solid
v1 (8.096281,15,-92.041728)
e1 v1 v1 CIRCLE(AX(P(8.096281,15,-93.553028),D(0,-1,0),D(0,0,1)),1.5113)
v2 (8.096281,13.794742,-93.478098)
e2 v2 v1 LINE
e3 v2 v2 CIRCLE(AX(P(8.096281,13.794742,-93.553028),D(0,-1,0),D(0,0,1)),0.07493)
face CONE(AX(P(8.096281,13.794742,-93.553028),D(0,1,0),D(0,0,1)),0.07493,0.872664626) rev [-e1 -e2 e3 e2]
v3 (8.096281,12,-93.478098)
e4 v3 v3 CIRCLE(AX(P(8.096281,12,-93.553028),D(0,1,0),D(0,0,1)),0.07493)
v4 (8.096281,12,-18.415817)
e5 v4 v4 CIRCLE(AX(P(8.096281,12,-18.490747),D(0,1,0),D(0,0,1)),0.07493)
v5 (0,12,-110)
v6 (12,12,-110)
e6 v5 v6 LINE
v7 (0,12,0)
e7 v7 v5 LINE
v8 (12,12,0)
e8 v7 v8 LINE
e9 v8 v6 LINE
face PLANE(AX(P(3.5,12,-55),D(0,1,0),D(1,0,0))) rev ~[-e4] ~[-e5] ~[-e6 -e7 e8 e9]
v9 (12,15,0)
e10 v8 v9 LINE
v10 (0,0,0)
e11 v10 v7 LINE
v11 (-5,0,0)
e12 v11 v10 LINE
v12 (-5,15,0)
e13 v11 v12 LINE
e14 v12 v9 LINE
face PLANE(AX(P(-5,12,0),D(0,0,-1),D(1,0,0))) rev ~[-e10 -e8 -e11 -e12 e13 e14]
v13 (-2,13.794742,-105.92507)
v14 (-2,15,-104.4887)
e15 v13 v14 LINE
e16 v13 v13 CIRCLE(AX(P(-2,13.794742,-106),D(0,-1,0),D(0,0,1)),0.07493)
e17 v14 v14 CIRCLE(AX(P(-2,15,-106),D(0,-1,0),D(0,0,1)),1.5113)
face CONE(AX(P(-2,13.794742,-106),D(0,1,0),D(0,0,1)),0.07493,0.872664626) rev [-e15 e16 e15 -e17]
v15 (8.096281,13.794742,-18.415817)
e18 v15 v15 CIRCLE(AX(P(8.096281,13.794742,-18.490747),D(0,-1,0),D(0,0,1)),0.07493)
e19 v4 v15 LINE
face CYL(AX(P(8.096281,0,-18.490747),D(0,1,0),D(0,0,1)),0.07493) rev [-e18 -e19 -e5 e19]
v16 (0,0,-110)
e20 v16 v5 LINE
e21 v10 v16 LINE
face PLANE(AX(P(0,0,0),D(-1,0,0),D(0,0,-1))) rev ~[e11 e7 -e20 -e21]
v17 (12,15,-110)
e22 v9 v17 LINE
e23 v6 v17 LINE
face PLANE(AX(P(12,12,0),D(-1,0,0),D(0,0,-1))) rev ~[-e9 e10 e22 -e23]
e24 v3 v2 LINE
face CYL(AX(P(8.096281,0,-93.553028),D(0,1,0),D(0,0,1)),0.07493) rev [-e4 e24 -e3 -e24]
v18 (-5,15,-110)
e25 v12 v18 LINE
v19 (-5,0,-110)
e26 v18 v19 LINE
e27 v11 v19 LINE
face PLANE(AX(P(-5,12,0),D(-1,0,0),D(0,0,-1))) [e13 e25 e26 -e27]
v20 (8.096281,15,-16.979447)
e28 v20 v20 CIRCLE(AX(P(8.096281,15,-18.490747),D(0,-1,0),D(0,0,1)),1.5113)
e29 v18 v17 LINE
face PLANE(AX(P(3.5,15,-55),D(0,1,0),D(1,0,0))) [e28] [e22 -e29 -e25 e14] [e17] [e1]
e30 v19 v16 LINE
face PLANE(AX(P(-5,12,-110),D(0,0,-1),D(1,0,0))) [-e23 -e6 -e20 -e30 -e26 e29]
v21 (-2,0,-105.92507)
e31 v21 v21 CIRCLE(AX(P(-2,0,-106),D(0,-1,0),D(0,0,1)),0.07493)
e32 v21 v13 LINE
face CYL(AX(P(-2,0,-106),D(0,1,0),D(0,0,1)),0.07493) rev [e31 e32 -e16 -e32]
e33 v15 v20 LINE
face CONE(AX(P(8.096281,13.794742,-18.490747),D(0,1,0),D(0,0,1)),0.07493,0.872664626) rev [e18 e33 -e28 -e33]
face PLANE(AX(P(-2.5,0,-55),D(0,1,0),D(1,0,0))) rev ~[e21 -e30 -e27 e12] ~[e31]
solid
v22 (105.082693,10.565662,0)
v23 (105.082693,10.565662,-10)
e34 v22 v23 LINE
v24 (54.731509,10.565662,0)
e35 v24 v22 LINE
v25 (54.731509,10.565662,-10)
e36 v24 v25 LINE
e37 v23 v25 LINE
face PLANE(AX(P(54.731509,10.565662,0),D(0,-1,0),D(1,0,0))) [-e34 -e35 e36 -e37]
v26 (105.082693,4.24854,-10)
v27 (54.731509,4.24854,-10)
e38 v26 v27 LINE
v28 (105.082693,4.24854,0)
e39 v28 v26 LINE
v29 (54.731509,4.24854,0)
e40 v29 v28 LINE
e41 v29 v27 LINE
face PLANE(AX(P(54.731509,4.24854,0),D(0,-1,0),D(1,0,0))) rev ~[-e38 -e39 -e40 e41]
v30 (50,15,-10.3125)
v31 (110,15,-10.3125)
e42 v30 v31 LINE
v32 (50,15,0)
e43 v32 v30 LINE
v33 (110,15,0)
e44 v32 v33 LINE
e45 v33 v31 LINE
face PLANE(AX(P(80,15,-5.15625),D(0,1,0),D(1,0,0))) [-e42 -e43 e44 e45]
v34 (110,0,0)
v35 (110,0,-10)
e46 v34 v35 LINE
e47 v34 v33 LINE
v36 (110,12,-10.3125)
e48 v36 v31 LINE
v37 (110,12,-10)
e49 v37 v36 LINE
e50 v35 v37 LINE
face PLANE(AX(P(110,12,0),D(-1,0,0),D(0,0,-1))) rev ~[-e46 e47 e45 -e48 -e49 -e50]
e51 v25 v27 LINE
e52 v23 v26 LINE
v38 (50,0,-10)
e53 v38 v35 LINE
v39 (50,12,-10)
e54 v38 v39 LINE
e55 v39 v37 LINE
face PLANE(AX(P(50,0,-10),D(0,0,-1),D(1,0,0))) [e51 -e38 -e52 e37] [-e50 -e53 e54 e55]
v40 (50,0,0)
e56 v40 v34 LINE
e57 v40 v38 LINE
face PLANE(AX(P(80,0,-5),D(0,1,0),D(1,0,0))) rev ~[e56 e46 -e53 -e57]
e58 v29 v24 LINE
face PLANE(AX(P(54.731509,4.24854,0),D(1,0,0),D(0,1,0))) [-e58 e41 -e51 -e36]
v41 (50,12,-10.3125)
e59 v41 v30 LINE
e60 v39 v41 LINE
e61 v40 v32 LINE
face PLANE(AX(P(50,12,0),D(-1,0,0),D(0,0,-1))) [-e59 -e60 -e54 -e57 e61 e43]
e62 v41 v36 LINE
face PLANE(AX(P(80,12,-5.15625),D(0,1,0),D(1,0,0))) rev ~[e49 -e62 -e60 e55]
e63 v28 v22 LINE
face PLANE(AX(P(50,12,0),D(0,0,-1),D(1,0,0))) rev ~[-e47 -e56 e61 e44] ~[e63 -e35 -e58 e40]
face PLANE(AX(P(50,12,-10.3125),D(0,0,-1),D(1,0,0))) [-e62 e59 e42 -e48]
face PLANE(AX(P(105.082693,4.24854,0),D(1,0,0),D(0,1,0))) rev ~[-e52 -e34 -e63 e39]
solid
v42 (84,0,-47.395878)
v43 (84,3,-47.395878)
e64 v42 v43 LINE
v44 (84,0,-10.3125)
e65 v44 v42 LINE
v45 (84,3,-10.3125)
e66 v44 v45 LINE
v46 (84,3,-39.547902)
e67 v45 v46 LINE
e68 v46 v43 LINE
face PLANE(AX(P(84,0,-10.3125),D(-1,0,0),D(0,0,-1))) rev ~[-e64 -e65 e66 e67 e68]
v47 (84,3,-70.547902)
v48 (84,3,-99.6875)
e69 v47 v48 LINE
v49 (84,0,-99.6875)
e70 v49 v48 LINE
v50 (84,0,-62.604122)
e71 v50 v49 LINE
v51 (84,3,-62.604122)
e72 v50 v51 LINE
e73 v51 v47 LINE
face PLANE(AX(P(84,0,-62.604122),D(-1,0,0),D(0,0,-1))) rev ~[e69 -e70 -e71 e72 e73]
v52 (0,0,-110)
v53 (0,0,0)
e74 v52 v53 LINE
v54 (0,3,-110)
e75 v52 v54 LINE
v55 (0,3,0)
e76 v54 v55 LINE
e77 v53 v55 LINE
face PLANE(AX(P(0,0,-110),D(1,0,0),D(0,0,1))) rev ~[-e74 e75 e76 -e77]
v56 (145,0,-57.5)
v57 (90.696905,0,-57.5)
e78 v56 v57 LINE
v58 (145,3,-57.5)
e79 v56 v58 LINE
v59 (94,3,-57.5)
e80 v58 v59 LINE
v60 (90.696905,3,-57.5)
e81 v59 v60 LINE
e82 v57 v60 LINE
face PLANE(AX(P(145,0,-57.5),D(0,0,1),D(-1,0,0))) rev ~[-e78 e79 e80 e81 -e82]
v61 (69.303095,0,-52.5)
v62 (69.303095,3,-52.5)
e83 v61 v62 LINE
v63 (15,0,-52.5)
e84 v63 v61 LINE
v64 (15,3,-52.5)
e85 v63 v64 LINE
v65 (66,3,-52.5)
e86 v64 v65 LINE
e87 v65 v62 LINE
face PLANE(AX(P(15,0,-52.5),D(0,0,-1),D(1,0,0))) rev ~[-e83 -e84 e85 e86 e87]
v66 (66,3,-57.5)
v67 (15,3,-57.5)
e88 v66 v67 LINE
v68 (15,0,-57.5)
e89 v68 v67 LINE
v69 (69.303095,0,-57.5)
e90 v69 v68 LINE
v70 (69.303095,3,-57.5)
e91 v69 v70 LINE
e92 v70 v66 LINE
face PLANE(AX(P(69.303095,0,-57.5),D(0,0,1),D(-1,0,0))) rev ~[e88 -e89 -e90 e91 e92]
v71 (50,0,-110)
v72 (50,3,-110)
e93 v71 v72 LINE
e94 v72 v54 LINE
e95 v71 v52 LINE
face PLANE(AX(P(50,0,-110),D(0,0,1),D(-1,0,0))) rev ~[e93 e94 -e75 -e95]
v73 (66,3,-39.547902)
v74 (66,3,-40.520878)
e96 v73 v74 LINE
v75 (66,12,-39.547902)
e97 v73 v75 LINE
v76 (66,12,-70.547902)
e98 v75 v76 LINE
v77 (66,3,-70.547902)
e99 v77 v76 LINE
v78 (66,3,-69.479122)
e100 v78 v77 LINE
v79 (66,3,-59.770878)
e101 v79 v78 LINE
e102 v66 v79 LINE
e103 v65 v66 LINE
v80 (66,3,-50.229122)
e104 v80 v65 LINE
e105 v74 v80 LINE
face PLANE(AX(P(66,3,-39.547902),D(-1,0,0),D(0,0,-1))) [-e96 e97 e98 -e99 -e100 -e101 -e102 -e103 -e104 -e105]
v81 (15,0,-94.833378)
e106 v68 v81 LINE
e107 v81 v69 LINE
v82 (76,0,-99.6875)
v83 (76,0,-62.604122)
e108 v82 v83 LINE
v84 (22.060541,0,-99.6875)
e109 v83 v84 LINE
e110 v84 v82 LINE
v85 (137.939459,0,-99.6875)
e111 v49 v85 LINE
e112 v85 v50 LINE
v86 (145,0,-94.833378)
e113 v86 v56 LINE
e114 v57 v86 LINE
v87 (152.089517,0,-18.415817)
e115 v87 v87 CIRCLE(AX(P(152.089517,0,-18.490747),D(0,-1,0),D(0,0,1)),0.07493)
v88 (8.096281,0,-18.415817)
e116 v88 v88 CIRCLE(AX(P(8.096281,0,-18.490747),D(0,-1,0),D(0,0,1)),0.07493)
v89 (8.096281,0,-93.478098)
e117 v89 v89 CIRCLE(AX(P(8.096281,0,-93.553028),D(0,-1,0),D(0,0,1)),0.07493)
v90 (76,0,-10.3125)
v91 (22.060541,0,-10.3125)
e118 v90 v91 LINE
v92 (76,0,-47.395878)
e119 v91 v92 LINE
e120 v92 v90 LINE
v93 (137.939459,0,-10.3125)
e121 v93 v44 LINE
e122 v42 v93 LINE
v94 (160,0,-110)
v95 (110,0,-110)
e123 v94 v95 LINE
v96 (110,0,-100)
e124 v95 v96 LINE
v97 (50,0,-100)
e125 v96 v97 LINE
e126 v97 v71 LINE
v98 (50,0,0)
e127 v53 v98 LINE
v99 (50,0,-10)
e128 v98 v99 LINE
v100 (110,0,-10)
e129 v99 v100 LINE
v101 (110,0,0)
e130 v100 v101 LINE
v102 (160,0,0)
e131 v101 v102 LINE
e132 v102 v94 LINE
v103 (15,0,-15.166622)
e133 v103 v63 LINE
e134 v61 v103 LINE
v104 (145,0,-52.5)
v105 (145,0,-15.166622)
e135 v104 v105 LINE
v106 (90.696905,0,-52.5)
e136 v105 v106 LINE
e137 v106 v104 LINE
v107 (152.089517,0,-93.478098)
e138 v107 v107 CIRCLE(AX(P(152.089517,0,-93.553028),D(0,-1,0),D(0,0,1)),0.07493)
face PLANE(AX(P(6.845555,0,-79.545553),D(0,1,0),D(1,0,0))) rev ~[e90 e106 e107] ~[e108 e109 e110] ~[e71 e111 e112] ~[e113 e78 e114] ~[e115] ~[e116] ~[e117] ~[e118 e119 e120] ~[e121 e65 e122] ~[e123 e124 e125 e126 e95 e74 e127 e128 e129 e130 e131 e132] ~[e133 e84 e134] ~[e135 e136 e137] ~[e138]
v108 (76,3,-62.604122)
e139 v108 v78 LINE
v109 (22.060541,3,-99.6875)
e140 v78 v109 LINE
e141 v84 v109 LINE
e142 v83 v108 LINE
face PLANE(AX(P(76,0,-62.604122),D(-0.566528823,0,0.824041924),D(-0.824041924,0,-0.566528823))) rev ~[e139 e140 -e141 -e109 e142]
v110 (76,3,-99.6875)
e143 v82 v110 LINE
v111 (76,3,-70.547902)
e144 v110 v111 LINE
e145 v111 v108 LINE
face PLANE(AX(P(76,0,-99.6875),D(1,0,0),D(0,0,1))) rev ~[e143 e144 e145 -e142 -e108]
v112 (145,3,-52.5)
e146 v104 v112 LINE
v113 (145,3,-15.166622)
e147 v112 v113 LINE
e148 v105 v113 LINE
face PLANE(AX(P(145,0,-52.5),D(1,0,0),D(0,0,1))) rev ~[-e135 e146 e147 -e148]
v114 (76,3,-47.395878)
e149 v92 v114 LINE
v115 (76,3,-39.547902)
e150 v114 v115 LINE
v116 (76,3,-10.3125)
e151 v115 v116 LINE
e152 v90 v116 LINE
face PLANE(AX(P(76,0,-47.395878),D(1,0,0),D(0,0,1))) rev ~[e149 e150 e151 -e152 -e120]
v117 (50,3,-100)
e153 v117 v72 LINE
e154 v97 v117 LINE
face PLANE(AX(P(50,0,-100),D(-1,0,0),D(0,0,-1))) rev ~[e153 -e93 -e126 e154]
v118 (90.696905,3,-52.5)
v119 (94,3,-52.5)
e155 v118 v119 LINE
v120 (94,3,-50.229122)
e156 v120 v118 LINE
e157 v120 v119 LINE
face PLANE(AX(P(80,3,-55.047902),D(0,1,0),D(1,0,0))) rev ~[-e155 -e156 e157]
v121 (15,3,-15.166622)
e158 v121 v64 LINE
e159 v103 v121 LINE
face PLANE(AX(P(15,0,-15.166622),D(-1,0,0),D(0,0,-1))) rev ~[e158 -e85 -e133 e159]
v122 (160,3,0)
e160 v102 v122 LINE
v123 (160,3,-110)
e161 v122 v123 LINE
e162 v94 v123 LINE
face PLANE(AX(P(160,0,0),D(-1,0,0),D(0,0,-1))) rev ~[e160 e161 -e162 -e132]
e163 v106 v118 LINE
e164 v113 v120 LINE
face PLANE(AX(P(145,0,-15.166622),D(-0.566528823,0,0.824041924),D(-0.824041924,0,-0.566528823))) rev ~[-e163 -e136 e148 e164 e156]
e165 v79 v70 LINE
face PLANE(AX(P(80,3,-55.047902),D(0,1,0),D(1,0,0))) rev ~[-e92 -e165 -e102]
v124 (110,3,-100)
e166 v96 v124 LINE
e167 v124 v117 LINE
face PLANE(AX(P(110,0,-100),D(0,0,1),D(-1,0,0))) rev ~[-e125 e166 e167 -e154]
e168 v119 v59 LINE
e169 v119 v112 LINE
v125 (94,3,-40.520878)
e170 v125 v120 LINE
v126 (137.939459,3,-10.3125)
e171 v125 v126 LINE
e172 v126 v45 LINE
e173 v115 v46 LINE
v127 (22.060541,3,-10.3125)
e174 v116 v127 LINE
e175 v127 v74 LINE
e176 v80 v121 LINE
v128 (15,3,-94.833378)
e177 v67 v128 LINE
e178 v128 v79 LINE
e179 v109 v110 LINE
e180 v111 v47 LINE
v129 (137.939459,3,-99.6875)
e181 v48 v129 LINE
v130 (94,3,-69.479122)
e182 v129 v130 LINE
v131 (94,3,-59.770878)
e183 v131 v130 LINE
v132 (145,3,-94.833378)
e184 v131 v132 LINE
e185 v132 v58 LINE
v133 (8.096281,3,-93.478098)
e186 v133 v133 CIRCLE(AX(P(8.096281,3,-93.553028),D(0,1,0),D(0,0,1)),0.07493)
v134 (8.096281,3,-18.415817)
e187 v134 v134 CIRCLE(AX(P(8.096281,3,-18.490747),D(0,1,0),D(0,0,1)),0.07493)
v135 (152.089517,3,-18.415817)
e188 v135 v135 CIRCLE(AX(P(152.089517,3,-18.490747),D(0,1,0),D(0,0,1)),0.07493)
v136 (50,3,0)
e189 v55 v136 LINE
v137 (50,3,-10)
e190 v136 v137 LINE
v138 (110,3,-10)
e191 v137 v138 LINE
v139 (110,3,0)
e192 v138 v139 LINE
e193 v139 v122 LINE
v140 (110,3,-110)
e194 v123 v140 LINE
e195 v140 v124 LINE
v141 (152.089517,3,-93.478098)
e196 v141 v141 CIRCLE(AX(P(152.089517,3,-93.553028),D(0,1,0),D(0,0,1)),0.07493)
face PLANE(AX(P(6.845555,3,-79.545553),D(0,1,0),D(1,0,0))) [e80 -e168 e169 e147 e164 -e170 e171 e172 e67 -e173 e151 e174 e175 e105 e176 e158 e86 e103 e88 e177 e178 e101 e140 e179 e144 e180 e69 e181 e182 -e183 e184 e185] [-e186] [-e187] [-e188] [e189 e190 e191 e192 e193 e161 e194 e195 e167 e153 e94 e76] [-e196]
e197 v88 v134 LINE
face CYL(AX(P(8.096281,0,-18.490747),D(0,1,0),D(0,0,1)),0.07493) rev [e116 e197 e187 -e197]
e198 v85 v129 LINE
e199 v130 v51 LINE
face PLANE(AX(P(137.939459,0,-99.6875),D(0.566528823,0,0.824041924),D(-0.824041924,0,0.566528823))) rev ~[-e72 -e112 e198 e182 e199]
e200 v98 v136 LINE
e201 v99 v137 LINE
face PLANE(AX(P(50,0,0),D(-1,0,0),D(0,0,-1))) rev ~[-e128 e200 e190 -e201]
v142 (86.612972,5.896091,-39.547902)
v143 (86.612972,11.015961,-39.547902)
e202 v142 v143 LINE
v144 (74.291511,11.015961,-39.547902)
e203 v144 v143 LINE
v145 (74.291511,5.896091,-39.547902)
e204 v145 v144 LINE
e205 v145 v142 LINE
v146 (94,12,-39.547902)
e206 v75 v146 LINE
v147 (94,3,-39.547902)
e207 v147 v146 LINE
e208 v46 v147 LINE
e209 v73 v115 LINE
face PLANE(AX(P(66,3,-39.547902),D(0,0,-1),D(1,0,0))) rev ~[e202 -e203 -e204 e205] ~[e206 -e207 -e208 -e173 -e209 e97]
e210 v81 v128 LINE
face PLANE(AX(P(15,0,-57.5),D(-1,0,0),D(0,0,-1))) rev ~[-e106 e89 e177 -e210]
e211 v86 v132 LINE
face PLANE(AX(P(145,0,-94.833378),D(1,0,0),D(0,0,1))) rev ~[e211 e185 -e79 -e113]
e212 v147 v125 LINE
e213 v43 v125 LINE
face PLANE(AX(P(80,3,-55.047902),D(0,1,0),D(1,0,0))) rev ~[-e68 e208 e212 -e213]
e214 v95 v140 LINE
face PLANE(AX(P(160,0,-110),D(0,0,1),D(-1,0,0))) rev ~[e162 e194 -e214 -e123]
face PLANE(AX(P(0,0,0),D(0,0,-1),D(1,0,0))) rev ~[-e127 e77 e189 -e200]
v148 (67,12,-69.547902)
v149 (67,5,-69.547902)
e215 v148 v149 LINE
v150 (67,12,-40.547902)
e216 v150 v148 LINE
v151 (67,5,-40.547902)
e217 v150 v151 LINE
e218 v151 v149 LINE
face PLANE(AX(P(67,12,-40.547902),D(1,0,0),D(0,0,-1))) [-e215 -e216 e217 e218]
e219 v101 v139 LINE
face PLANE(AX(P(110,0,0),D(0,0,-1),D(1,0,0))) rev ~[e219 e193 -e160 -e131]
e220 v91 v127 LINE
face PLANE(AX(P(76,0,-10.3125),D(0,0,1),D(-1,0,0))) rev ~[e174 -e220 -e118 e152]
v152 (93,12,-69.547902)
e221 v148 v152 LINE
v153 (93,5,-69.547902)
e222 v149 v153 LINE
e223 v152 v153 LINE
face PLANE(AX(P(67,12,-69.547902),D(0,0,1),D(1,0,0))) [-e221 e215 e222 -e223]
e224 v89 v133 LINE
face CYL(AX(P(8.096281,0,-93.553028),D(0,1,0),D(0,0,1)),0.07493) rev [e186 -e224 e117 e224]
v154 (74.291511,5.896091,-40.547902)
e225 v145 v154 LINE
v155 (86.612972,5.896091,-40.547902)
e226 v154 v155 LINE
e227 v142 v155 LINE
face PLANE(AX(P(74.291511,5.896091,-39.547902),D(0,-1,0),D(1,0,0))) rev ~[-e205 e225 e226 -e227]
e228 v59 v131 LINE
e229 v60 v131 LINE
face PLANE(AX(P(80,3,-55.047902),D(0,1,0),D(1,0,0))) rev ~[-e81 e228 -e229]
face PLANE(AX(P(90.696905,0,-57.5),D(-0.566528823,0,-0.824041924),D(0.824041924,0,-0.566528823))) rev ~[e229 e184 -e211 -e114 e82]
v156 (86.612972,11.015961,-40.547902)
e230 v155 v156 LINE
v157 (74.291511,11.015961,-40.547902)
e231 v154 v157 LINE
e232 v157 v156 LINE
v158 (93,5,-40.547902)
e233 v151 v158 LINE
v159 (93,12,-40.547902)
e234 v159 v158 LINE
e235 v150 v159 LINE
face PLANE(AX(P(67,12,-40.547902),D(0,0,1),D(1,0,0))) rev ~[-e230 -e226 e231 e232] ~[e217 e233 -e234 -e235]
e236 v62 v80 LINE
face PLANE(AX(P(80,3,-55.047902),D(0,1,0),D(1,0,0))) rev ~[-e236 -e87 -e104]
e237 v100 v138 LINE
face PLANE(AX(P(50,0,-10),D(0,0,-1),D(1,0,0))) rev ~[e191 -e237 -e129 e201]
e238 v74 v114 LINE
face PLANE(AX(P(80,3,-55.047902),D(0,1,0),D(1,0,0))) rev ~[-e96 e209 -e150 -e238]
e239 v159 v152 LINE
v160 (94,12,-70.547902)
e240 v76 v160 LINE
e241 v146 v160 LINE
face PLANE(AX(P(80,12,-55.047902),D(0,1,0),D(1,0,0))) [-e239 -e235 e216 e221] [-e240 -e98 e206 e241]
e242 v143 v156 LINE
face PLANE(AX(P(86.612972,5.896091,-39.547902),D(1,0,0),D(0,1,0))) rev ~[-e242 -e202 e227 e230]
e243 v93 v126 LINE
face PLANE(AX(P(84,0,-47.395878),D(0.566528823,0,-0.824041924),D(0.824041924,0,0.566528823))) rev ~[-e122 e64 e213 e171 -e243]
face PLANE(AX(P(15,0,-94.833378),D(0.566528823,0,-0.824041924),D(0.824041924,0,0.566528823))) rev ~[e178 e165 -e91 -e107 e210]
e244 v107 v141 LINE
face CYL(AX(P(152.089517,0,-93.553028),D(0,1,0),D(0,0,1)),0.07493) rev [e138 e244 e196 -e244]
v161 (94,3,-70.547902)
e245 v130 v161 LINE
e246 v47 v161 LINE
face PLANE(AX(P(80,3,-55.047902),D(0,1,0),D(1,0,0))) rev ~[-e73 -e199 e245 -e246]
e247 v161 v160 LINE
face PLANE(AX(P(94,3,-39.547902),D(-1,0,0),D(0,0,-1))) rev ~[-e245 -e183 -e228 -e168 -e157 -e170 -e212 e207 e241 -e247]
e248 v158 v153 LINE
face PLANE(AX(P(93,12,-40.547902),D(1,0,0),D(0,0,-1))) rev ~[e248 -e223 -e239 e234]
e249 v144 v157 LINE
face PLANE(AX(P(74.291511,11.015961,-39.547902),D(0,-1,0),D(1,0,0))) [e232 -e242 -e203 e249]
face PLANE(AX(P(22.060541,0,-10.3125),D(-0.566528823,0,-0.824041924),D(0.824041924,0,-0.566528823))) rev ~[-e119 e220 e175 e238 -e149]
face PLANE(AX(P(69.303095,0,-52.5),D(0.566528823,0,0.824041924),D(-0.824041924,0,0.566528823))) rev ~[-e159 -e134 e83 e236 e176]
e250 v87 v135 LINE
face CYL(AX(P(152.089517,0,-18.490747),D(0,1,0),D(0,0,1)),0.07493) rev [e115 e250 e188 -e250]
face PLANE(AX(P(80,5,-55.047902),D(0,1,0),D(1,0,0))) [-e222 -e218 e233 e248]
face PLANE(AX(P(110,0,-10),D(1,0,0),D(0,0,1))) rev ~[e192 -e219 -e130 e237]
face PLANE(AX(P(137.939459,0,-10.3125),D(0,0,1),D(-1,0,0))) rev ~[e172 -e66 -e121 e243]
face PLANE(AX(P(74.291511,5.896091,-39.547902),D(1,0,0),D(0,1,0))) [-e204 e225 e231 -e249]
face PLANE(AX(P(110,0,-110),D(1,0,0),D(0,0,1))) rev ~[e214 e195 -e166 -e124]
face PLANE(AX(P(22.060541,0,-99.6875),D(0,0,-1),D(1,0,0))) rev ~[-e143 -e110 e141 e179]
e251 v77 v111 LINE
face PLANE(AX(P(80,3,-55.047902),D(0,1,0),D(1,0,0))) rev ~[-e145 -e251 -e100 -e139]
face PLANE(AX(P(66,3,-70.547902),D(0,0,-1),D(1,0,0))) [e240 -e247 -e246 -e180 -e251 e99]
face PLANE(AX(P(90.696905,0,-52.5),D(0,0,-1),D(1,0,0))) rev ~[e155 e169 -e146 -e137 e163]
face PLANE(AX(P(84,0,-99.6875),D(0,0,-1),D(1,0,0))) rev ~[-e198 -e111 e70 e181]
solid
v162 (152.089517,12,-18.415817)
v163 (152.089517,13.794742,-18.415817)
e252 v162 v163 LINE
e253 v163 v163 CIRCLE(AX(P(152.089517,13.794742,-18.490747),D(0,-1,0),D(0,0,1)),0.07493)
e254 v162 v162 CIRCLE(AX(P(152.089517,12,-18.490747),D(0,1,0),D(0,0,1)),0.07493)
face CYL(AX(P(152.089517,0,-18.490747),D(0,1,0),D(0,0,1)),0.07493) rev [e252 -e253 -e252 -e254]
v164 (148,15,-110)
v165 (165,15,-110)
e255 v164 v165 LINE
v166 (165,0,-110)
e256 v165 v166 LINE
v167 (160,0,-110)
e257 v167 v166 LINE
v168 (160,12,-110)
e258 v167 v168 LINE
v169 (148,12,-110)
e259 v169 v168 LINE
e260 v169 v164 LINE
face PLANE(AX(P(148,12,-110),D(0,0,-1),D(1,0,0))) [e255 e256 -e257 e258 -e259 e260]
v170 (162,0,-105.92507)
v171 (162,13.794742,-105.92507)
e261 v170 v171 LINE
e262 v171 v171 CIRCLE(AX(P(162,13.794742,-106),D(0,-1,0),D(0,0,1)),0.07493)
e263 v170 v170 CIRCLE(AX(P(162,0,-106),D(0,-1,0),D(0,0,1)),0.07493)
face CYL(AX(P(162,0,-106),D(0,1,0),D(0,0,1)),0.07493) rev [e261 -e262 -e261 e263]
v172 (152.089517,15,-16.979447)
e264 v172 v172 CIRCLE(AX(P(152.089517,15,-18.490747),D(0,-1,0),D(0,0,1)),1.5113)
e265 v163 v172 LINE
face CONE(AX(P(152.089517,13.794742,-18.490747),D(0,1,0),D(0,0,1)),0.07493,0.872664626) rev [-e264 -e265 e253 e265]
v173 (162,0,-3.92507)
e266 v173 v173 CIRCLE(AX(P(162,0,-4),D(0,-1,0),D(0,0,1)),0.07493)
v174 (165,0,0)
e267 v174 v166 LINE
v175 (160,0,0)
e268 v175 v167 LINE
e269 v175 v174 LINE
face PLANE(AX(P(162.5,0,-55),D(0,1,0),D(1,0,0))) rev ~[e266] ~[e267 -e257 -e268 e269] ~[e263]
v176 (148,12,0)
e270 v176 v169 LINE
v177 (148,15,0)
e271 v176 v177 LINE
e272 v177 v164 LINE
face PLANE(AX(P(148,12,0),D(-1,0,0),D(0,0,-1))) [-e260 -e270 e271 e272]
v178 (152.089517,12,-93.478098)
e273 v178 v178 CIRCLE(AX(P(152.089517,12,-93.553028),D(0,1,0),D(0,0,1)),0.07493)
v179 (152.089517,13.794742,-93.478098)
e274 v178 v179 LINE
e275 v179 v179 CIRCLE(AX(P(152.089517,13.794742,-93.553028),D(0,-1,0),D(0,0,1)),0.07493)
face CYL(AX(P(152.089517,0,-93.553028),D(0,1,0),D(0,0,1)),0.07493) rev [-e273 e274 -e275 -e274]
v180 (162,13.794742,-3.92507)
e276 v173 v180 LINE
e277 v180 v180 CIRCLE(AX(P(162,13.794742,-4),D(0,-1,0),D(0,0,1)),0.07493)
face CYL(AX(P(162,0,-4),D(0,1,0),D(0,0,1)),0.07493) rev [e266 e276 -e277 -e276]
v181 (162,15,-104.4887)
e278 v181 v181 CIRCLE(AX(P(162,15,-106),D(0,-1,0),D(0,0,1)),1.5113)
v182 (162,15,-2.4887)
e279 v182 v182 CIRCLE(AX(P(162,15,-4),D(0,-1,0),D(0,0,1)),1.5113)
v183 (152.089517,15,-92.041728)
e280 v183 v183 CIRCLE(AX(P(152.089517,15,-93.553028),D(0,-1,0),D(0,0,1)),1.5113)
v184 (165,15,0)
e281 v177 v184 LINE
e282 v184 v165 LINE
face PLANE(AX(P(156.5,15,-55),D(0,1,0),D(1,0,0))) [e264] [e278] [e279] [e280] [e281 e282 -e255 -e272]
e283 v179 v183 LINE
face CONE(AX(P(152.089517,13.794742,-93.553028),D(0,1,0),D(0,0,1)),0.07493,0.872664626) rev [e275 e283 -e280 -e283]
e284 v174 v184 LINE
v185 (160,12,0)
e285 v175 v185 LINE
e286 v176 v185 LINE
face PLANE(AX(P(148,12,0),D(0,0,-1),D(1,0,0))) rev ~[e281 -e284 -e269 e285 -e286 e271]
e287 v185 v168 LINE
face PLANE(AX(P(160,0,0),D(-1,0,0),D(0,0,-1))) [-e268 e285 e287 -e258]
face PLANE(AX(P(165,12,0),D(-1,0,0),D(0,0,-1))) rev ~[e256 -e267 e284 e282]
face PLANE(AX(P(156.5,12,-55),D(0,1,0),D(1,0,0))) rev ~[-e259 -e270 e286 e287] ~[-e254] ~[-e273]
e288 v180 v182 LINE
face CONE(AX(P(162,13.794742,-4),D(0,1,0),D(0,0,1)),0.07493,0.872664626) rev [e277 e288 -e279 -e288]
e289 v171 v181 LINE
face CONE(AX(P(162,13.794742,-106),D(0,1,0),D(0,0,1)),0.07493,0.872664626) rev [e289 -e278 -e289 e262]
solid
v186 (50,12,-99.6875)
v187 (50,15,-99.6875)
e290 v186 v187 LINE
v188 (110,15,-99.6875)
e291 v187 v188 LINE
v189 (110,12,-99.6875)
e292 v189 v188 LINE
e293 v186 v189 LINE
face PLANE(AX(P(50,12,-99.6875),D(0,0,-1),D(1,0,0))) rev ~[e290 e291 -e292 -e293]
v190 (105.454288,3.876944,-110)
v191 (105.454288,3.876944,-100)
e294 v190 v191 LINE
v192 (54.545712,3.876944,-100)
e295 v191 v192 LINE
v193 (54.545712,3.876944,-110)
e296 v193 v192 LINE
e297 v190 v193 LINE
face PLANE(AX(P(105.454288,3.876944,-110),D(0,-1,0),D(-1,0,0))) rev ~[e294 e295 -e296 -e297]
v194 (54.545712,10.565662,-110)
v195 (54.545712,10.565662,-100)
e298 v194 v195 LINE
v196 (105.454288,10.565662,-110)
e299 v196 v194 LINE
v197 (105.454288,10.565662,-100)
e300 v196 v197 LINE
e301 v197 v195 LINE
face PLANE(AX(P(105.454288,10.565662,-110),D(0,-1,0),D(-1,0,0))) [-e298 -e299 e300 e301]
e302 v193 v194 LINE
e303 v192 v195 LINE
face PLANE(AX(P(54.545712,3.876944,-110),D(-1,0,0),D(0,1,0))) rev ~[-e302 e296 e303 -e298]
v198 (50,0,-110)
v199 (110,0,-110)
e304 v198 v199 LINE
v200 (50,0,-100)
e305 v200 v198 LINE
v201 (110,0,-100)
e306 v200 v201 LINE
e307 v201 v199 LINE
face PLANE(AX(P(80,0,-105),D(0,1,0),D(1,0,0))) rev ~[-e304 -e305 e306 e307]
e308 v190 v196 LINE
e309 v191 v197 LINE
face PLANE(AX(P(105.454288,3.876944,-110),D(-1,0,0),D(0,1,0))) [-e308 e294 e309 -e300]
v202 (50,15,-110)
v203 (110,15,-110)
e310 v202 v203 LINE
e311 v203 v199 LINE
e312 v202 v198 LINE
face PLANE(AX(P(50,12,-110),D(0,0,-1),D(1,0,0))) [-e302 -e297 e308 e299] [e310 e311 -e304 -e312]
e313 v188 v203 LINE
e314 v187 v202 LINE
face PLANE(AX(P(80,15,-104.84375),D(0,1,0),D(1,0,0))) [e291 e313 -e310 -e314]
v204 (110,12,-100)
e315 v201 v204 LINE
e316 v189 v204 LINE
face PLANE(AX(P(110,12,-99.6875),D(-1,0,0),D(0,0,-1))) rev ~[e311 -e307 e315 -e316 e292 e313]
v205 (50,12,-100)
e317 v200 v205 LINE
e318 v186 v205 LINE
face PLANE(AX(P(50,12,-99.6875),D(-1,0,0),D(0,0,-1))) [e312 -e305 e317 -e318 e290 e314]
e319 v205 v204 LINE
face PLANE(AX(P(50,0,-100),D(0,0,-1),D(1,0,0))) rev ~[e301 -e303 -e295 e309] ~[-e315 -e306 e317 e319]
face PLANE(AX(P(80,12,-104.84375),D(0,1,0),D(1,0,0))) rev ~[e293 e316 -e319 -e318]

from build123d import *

# Parameters (mm, degrees)
BOSS_EXTRUDE1_DEPTH                   = 3
SKETCH1_5_W                           = 5
SKETCH1_5_H                           = 110
BOSS_EXTRUDE2_DEPTH                   = 12
SKETCH1_5_W_2                         = 60
SKETCH1_5_H_2                         = 10
BOSS_EXTRUDE2_2_DEPTH                 = 12
BOSS_EXTRUDE2_3_DEPTH                 = 12
BOSS_EXTRUDE2_4_DEPTH                 = 12
SKETCH2_W                             = 17
SKETCH2_H                             = 110
SKETCH2_W_2                           = 60
SKETCH2_H_2                           = 10.3125
BOSS_EXTRUDE3_DEPTH                   = 3
SKETCH3_W                             = 50.351183416
SKETCH3_H                             = 6.317122643
CUT_EXTRUDE1_DEPTH                    = 12
SKETCH4_W                             = 50.90857659
SKETCH4_H                             = 6.688718092
CUT_EXTRUDE2_DEPTH                    = 12
SKETCH5_W                             = 28
SKETCH5_H                             = 31
BOSS_EXTRUDE4_DEPTH                   = 9
SKETCH6_W                             = 26
SKETCH6_H                             = 29
CUT_EXTRUDE3_DEPTH                    = 7
SKETCH7_W                             = 12.321460949
SKETCH7_H                             = 5.119870138
CUT_EXTRUDE4_DEPTH                    = 2
F_97_0_0059_DIAMETER_HOLE9_AT_2_COUNT = 2
F_97_0_0059_DIAMETER_HOLE9_AT_2_PITCH = 75.062280812
F_97_0_0059_DIAMETER_HOLE9_AT_3_COUNT = 2
F_97_0_0059_DIAMETER_HOLE9_AT_3_PITCH = 162.38349121
F_97_0_0059_DIAMETER_HOLE9_AT_4_COUNT = 2
F_97_0_0059_DIAMETER_HOLE9_AT_4_PITCH = 143.993236706


with BuildPart() as part:
    # Sketch1 → Boss-Extrude1 (new body)
    with BuildSketch(Plane(origin=(0, 0, 0), x_dir=(1, 0, 0), z_dir=(0, 1, 0))):
        Polygon((0, 0), (50, 0), (50, 10), (110, 10), (110, 0), (160, 0), (160, 110), (110, 110), (110, 100), (50, 100), (50, 110), (0, 110), align=None)
        Polygon((22.060541032, 10.3125), (76, 47.39587804), (76, 10.3125), align=None, mode=Mode.SUBTRACT)
        Polygon((15, 15.16662196), (15, 52.5), (69.303095331, 52.5), align=None, mode=Mode.SUBTRACT)
        Polygon((84, 10.3125), (84, 47.39587804), (137.939458968, 10.3125), align=None, mode=Mode.SUBTRACT)
        Polygon((15, 57.5), (15, 94.83337804), (69.303095331, 57.5), align=None, mode=Mode.SUBTRACT)
        Polygon((145, 15.16662196), (90.696904669, 52.5), (145, 52.5), align=None, mode=Mode.SUBTRACT)
        Polygon((22.060541032, 99.6875), (76, 99.6875), (76, 62.60412196), align=None, mode=Mode.SUBTRACT)
        Polygon((145, 57.5), (90.696904669, 57.5), (145, 94.83337804), align=None, mode=Mode.SUBTRACT)
        Polygon((84, 62.60412196), (84, 99.6875), (137.939458968, 99.6875), align=None, mode=Mode.SUBTRACT)
    extrude(amount=BOSS_EXTRUDE1_DEPTH)

    # Sketch5 → Boss-Extrude4 (add)
    with BuildSketch(Plane(origin=(0, 3, 0), x_dir=(1, 0, 0), z_dir=(0, 1, 0))):
        with Locations((80, 55.04790198)):
            Rectangle(SKETCH5_W, SKETCH5_H)
    extrude(amount=BOSS_EXTRUDE4_DEPTH)

    # Sketch6 → Cut-Extrude3 (cut)
    with BuildSketch(Plane(origin=(0, 12, 0), x_dir=(1, 0, 0), z_dir=(0, 1, 0))):
        with Locations((80, 55.04790198)):
            Rectangle(SKETCH6_W, SKETCH6_H)
    extrude(amount=-CUT_EXTRUDE3_DEPTH, mode=Mode.SUBTRACT)

    # Sketch7 → Cut-Extrude4 (cut)
    with BuildSketch(Plane.XY.offset(-39.54790198)):
        with Locations((80.452241745, 8.456025881)):
            Rectangle(SKETCH7_W, SKETCH7_H)
    extrude(amount=-CUT_EXTRUDE4_DEPTH, mode=Mode.SUBTRACT)


with BuildPart() as body_2:
    # Sketch1<5> → Boss-Extrude2 (new body)
    with BuildSketch(Plane(origin=(0, 0, 0), x_dir=(1, 0, 0), z_dir=(0, 1, 0))):
        with Locations((-2.5, 55)):
            Rectangle(SKETCH1_5_W, SKETCH1_5_H)
    extrude(amount=BOSS_EXTRUDE2_DEPTH)



with BuildPart() as body_3:
    # Sketch1<5> → Boss-Extrude2 2 (new body)
    with BuildSketch(Plane(origin=(0, 0, 0), x_dir=(1, 0, 0), z_dir=(0, 1, 0))):
        with Locations((80, 5)):
            Rectangle(SKETCH1_5_W_2, SKETCH1_5_H_2)
    extrude(amount=BOSS_EXTRUDE2_2_DEPTH)


with BuildPart() as body_4:
    # Sketch1<5> → Boss-Extrude2 3 (new body)
    with BuildSketch(Plane(origin=(0, 0, 0), x_dir=(1, 0, 0), z_dir=(0, 1, 0))):
        with Locations((80, 105)):
            Rectangle(SKETCH1_5_W_2, SKETCH1_5_H_2)
    extrude(amount=BOSS_EXTRUDE2_3_DEPTH)


with BuildPart() as body_5:
    # Sketch1<5> → Boss-Extrude2 4 (new body)
    with BuildSketch(Plane(origin=(0, 0, 0), x_dir=(1, 0, 0), z_dir=(0, 1, 0))):
        with Locations((162.5, 55)):
            Rectangle(SKETCH1_5_W, SKETCH1_5_H)
    extrude(amount=BOSS_EXTRUDE2_4_DEPTH)


with BuildPart() as body_2_1:
    add(body_2.part)

    add(body_3.part)  # Boss-Extrude3 merges body 3

    add(body_4.part)  # Boss-Extrude3 merges body 4

    add(body_5.part)  # Boss-Extrude3 merges body 5
    # Sketch2 → Boss-Extrude3 (add)
    with BuildSketch(Plane(origin=(0, 12, 0), x_dir=(1, 0, 0), z_dir=(0, 1, 0))):
        with Locations((3.5, 55)):
            Rectangle(SKETCH2_W, SKETCH2_H)
        with Locations((156.5, 55)):
            Rectangle(SKETCH2_W, SKETCH2_H)
        with Locations((80, 104.84375)):
            Rectangle(SKETCH2_W_2, SKETCH2_H_2)
        with Locations((80, 5.15625)):
            Rectangle(SKETCH2_W_2, SKETCH2_H_2)
    extrude(amount=BOSS_EXTRUDE3_DEPTH)

    # Sketch3 → Cut-Extrude1 (cut)
    with BuildSketch(Plane.XY):
        with Locations((79.907101138, 7.407101137)):
            Rectangle(SKETCH3_W, SKETCH3_H)
    extrude(amount=-CUT_EXTRUDE1_DEPTH, mode=Mode.SUBTRACT)

    # Sketch4 → Cut-Extrude2 (cut)
    with BuildSketch(Plane(origin=(0, 0, -110), x_dir=(-1, 0, 0), z_dir=(0, 0, -1))):
        with Locations((-80, 7.221303413)):
            Rectangle(SKETCH4_W, SKETCH4_H)
    extrude(amount=-CUT_EXTRUDE2_DEPTH, mode=Mode.SUBTRACT)

    # Sketch14 → #97 (0.0059) Diameter Hole2 (revolve, cut)
    with BuildSketch(Plane(origin=(-2, 15, -106), x_dir=(0, 0, 1), z_dir=(1, 0, 0))):
        Polygon((0, 0), (0, 15), (0.07493, 15), (0.07493, 1.205257537), (1.5113, 0), align=None)
    revolve(axis=Axis((-2, 21.35, -106), (0, -1, 0)), mode=Mode.SUBTRACT)

    # Sketch18 → #97 (0.0059) Diameter Hole4 (revolve, cut)
    with BuildSketch(Plane(origin=(162, 15, -106), x_dir=(0, 0, 1), z_dir=(1, 0, 0))):
        Polygon((0, 0), (0, 15), (0.07493, 15), (0.07493, 1.205257537), (1.5113, 0), align=None)
    revolve(axis=Axis((162, 21.35, -106), (0, -1, 0)), mode=Mode.SUBTRACT)

    # Sketch20 → #97 (0.0059) Diameter Hole5 (revolve, cut)
    with BuildSketch(Plane(origin=(162, 15, -4), x_dir=(0, 0, 1), z_dir=(1, 0, 0))):
        Polygon((0, 0), (0, 15), (0.07493, 15), (0.07493, 1.205257537), (1.5113, 0), align=None)
    revolve(axis=Axis((162, 21.35, -4), (0, -1, 0)), mode=Mode.SUBTRACT)


with BuildPart() as f_97_0_0059_diameter_hole9_tool:
    # Sketch31 → #97 (0.0059) Diameter Hole9 (revolve)
    with BuildSketch(Plane(origin=(8.09628051, 15, -93.553027892), x_dir=(0, 0, 1), z_dir=(1, 0, 0))):
        Polygon((0, 0), (0, 15), (0.07493, 15), (0.07493, 1.205257537), (1.5113, 0), align=None)
    f_97_0_0059_diameter_hole9 = revolve(axis=Axis((8.09628051, 21.35, -93.553027892), (0, -1, 0)))


with BuildPart() as part_1:
    add(part.part)

    # #97 (0.0059) Diameter Hole9: cut by f_97_0_0059_diameter_hole9_tool
    add(f_97_0_0059_diameter_hole9_tool.part, mode=Mode.SUBTRACT)


with BuildPart() as body_2_2:
    add(body_2_1.part)

    # #97 (0.0059) Diameter Hole9: cut by f_97_0_0059_diameter_hole9_tool
    add(f_97_0_0059_diameter_hole9_tool.part, mode=Mode.SUBTRACT)


with BuildPart() as f_97_0_0059_diameter_hole9_at_2_tool:
    # #97 (0.0059) Diameter Hole9 at 2: #97 (0.0059) Diameter Hole9 ×2
    with Locations(*[(0, 0, i * F_97_0_0059_DIAMETER_HOLE9_AT_2_PITCH) for i in range(1, F_97_0_0059_DIAMETER_HOLE9_AT_2_COUNT)]):
        add(f_97_0_0059_diameter_hole9)


with BuildPart() as part_2:
    add(part_1.part)

    # #97 (0.0059) Diameter Hole9 at 2: cut by f_97_0_0059_diameter_hole9_at_2_tool
    add(f_97_0_0059_diameter_hole9_at_2_tool.part, mode=Mode.SUBTRACT)


with BuildPart() as body_2_3:
    add(body_2_2.part)

    # #97 (0.0059) Diameter Hole9 at 2: cut by f_97_0_0059_diameter_hole9_at_2_tool
    add(f_97_0_0059_diameter_hole9_at_2_tool.part, mode=Mode.SUBTRACT)


with BuildPart() as f_97_0_0059_diameter_hole9_at_3_tool:
    # #97 (0.0059) Diameter Hole9 at 3: #97 (0.0059) Diameter Hole9 ×2
    with Locations(*[Vector(0.8867480039532973, 0, 0.4622531530285576) * (i * F_97_0_0059_DIAMETER_HOLE9_AT_3_PITCH) for i in range(1, F_97_0_0059_DIAMETER_HOLE9_AT_3_COUNT)]):
        add(f_97_0_0059_diameter_hole9)


with BuildPart() as part_3:
    add(part_2.part)

    # #97 (0.0059) Diameter Hole9 at 3: cut by f_97_0_0059_diameter_hole9_at_3_tool
    add(f_97_0_0059_diameter_hole9_at_3_tool.part, mode=Mode.SUBTRACT)


with BuildPart() as body_2_4:
    add(body_2_3.part)

    # #97 (0.0059) Diameter Hole9 at 3: cut by f_97_0_0059_diameter_hole9_at_3_tool
    add(f_97_0_0059_diameter_hole9_at_3_tool.part, mode=Mode.SUBTRACT)


with BuildPart() as f_97_0_0059_diameter_hole9_at_4_tool:
    # #97 (0.0059) Diameter Hole9 at 4: #97 (0.0059) Diameter Hole9 ×2
    with Locations(*[(i * F_97_0_0059_DIAMETER_HOLE9_AT_4_PITCH, 0, 0) for i in range(1, F_97_0_0059_DIAMETER_HOLE9_AT_4_COUNT)]):
        add(f_97_0_0059_diameter_hole9)


with BuildPart() as part_4:
    add(part_3.part)

    # #97 (0.0059) Diameter Hole9 at 4: cut by f_97_0_0059_diameter_hole9_at_4_tool
    add(f_97_0_0059_diameter_hole9_at_4_tool.part, mode=Mode.SUBTRACT)


with BuildPart() as body_2_5:
    add(body_2_4.part)

    # #97 (0.0059) Diameter Hole9 at 4: cut by f_97_0_0059_diameter_hole9_at_4_tool
    add(f_97_0_0059_diameter_hole9_at_4_tool.part, mode=Mode.SUBTRACT)


solid = Compound([part_4.part, body_2_5.part])
